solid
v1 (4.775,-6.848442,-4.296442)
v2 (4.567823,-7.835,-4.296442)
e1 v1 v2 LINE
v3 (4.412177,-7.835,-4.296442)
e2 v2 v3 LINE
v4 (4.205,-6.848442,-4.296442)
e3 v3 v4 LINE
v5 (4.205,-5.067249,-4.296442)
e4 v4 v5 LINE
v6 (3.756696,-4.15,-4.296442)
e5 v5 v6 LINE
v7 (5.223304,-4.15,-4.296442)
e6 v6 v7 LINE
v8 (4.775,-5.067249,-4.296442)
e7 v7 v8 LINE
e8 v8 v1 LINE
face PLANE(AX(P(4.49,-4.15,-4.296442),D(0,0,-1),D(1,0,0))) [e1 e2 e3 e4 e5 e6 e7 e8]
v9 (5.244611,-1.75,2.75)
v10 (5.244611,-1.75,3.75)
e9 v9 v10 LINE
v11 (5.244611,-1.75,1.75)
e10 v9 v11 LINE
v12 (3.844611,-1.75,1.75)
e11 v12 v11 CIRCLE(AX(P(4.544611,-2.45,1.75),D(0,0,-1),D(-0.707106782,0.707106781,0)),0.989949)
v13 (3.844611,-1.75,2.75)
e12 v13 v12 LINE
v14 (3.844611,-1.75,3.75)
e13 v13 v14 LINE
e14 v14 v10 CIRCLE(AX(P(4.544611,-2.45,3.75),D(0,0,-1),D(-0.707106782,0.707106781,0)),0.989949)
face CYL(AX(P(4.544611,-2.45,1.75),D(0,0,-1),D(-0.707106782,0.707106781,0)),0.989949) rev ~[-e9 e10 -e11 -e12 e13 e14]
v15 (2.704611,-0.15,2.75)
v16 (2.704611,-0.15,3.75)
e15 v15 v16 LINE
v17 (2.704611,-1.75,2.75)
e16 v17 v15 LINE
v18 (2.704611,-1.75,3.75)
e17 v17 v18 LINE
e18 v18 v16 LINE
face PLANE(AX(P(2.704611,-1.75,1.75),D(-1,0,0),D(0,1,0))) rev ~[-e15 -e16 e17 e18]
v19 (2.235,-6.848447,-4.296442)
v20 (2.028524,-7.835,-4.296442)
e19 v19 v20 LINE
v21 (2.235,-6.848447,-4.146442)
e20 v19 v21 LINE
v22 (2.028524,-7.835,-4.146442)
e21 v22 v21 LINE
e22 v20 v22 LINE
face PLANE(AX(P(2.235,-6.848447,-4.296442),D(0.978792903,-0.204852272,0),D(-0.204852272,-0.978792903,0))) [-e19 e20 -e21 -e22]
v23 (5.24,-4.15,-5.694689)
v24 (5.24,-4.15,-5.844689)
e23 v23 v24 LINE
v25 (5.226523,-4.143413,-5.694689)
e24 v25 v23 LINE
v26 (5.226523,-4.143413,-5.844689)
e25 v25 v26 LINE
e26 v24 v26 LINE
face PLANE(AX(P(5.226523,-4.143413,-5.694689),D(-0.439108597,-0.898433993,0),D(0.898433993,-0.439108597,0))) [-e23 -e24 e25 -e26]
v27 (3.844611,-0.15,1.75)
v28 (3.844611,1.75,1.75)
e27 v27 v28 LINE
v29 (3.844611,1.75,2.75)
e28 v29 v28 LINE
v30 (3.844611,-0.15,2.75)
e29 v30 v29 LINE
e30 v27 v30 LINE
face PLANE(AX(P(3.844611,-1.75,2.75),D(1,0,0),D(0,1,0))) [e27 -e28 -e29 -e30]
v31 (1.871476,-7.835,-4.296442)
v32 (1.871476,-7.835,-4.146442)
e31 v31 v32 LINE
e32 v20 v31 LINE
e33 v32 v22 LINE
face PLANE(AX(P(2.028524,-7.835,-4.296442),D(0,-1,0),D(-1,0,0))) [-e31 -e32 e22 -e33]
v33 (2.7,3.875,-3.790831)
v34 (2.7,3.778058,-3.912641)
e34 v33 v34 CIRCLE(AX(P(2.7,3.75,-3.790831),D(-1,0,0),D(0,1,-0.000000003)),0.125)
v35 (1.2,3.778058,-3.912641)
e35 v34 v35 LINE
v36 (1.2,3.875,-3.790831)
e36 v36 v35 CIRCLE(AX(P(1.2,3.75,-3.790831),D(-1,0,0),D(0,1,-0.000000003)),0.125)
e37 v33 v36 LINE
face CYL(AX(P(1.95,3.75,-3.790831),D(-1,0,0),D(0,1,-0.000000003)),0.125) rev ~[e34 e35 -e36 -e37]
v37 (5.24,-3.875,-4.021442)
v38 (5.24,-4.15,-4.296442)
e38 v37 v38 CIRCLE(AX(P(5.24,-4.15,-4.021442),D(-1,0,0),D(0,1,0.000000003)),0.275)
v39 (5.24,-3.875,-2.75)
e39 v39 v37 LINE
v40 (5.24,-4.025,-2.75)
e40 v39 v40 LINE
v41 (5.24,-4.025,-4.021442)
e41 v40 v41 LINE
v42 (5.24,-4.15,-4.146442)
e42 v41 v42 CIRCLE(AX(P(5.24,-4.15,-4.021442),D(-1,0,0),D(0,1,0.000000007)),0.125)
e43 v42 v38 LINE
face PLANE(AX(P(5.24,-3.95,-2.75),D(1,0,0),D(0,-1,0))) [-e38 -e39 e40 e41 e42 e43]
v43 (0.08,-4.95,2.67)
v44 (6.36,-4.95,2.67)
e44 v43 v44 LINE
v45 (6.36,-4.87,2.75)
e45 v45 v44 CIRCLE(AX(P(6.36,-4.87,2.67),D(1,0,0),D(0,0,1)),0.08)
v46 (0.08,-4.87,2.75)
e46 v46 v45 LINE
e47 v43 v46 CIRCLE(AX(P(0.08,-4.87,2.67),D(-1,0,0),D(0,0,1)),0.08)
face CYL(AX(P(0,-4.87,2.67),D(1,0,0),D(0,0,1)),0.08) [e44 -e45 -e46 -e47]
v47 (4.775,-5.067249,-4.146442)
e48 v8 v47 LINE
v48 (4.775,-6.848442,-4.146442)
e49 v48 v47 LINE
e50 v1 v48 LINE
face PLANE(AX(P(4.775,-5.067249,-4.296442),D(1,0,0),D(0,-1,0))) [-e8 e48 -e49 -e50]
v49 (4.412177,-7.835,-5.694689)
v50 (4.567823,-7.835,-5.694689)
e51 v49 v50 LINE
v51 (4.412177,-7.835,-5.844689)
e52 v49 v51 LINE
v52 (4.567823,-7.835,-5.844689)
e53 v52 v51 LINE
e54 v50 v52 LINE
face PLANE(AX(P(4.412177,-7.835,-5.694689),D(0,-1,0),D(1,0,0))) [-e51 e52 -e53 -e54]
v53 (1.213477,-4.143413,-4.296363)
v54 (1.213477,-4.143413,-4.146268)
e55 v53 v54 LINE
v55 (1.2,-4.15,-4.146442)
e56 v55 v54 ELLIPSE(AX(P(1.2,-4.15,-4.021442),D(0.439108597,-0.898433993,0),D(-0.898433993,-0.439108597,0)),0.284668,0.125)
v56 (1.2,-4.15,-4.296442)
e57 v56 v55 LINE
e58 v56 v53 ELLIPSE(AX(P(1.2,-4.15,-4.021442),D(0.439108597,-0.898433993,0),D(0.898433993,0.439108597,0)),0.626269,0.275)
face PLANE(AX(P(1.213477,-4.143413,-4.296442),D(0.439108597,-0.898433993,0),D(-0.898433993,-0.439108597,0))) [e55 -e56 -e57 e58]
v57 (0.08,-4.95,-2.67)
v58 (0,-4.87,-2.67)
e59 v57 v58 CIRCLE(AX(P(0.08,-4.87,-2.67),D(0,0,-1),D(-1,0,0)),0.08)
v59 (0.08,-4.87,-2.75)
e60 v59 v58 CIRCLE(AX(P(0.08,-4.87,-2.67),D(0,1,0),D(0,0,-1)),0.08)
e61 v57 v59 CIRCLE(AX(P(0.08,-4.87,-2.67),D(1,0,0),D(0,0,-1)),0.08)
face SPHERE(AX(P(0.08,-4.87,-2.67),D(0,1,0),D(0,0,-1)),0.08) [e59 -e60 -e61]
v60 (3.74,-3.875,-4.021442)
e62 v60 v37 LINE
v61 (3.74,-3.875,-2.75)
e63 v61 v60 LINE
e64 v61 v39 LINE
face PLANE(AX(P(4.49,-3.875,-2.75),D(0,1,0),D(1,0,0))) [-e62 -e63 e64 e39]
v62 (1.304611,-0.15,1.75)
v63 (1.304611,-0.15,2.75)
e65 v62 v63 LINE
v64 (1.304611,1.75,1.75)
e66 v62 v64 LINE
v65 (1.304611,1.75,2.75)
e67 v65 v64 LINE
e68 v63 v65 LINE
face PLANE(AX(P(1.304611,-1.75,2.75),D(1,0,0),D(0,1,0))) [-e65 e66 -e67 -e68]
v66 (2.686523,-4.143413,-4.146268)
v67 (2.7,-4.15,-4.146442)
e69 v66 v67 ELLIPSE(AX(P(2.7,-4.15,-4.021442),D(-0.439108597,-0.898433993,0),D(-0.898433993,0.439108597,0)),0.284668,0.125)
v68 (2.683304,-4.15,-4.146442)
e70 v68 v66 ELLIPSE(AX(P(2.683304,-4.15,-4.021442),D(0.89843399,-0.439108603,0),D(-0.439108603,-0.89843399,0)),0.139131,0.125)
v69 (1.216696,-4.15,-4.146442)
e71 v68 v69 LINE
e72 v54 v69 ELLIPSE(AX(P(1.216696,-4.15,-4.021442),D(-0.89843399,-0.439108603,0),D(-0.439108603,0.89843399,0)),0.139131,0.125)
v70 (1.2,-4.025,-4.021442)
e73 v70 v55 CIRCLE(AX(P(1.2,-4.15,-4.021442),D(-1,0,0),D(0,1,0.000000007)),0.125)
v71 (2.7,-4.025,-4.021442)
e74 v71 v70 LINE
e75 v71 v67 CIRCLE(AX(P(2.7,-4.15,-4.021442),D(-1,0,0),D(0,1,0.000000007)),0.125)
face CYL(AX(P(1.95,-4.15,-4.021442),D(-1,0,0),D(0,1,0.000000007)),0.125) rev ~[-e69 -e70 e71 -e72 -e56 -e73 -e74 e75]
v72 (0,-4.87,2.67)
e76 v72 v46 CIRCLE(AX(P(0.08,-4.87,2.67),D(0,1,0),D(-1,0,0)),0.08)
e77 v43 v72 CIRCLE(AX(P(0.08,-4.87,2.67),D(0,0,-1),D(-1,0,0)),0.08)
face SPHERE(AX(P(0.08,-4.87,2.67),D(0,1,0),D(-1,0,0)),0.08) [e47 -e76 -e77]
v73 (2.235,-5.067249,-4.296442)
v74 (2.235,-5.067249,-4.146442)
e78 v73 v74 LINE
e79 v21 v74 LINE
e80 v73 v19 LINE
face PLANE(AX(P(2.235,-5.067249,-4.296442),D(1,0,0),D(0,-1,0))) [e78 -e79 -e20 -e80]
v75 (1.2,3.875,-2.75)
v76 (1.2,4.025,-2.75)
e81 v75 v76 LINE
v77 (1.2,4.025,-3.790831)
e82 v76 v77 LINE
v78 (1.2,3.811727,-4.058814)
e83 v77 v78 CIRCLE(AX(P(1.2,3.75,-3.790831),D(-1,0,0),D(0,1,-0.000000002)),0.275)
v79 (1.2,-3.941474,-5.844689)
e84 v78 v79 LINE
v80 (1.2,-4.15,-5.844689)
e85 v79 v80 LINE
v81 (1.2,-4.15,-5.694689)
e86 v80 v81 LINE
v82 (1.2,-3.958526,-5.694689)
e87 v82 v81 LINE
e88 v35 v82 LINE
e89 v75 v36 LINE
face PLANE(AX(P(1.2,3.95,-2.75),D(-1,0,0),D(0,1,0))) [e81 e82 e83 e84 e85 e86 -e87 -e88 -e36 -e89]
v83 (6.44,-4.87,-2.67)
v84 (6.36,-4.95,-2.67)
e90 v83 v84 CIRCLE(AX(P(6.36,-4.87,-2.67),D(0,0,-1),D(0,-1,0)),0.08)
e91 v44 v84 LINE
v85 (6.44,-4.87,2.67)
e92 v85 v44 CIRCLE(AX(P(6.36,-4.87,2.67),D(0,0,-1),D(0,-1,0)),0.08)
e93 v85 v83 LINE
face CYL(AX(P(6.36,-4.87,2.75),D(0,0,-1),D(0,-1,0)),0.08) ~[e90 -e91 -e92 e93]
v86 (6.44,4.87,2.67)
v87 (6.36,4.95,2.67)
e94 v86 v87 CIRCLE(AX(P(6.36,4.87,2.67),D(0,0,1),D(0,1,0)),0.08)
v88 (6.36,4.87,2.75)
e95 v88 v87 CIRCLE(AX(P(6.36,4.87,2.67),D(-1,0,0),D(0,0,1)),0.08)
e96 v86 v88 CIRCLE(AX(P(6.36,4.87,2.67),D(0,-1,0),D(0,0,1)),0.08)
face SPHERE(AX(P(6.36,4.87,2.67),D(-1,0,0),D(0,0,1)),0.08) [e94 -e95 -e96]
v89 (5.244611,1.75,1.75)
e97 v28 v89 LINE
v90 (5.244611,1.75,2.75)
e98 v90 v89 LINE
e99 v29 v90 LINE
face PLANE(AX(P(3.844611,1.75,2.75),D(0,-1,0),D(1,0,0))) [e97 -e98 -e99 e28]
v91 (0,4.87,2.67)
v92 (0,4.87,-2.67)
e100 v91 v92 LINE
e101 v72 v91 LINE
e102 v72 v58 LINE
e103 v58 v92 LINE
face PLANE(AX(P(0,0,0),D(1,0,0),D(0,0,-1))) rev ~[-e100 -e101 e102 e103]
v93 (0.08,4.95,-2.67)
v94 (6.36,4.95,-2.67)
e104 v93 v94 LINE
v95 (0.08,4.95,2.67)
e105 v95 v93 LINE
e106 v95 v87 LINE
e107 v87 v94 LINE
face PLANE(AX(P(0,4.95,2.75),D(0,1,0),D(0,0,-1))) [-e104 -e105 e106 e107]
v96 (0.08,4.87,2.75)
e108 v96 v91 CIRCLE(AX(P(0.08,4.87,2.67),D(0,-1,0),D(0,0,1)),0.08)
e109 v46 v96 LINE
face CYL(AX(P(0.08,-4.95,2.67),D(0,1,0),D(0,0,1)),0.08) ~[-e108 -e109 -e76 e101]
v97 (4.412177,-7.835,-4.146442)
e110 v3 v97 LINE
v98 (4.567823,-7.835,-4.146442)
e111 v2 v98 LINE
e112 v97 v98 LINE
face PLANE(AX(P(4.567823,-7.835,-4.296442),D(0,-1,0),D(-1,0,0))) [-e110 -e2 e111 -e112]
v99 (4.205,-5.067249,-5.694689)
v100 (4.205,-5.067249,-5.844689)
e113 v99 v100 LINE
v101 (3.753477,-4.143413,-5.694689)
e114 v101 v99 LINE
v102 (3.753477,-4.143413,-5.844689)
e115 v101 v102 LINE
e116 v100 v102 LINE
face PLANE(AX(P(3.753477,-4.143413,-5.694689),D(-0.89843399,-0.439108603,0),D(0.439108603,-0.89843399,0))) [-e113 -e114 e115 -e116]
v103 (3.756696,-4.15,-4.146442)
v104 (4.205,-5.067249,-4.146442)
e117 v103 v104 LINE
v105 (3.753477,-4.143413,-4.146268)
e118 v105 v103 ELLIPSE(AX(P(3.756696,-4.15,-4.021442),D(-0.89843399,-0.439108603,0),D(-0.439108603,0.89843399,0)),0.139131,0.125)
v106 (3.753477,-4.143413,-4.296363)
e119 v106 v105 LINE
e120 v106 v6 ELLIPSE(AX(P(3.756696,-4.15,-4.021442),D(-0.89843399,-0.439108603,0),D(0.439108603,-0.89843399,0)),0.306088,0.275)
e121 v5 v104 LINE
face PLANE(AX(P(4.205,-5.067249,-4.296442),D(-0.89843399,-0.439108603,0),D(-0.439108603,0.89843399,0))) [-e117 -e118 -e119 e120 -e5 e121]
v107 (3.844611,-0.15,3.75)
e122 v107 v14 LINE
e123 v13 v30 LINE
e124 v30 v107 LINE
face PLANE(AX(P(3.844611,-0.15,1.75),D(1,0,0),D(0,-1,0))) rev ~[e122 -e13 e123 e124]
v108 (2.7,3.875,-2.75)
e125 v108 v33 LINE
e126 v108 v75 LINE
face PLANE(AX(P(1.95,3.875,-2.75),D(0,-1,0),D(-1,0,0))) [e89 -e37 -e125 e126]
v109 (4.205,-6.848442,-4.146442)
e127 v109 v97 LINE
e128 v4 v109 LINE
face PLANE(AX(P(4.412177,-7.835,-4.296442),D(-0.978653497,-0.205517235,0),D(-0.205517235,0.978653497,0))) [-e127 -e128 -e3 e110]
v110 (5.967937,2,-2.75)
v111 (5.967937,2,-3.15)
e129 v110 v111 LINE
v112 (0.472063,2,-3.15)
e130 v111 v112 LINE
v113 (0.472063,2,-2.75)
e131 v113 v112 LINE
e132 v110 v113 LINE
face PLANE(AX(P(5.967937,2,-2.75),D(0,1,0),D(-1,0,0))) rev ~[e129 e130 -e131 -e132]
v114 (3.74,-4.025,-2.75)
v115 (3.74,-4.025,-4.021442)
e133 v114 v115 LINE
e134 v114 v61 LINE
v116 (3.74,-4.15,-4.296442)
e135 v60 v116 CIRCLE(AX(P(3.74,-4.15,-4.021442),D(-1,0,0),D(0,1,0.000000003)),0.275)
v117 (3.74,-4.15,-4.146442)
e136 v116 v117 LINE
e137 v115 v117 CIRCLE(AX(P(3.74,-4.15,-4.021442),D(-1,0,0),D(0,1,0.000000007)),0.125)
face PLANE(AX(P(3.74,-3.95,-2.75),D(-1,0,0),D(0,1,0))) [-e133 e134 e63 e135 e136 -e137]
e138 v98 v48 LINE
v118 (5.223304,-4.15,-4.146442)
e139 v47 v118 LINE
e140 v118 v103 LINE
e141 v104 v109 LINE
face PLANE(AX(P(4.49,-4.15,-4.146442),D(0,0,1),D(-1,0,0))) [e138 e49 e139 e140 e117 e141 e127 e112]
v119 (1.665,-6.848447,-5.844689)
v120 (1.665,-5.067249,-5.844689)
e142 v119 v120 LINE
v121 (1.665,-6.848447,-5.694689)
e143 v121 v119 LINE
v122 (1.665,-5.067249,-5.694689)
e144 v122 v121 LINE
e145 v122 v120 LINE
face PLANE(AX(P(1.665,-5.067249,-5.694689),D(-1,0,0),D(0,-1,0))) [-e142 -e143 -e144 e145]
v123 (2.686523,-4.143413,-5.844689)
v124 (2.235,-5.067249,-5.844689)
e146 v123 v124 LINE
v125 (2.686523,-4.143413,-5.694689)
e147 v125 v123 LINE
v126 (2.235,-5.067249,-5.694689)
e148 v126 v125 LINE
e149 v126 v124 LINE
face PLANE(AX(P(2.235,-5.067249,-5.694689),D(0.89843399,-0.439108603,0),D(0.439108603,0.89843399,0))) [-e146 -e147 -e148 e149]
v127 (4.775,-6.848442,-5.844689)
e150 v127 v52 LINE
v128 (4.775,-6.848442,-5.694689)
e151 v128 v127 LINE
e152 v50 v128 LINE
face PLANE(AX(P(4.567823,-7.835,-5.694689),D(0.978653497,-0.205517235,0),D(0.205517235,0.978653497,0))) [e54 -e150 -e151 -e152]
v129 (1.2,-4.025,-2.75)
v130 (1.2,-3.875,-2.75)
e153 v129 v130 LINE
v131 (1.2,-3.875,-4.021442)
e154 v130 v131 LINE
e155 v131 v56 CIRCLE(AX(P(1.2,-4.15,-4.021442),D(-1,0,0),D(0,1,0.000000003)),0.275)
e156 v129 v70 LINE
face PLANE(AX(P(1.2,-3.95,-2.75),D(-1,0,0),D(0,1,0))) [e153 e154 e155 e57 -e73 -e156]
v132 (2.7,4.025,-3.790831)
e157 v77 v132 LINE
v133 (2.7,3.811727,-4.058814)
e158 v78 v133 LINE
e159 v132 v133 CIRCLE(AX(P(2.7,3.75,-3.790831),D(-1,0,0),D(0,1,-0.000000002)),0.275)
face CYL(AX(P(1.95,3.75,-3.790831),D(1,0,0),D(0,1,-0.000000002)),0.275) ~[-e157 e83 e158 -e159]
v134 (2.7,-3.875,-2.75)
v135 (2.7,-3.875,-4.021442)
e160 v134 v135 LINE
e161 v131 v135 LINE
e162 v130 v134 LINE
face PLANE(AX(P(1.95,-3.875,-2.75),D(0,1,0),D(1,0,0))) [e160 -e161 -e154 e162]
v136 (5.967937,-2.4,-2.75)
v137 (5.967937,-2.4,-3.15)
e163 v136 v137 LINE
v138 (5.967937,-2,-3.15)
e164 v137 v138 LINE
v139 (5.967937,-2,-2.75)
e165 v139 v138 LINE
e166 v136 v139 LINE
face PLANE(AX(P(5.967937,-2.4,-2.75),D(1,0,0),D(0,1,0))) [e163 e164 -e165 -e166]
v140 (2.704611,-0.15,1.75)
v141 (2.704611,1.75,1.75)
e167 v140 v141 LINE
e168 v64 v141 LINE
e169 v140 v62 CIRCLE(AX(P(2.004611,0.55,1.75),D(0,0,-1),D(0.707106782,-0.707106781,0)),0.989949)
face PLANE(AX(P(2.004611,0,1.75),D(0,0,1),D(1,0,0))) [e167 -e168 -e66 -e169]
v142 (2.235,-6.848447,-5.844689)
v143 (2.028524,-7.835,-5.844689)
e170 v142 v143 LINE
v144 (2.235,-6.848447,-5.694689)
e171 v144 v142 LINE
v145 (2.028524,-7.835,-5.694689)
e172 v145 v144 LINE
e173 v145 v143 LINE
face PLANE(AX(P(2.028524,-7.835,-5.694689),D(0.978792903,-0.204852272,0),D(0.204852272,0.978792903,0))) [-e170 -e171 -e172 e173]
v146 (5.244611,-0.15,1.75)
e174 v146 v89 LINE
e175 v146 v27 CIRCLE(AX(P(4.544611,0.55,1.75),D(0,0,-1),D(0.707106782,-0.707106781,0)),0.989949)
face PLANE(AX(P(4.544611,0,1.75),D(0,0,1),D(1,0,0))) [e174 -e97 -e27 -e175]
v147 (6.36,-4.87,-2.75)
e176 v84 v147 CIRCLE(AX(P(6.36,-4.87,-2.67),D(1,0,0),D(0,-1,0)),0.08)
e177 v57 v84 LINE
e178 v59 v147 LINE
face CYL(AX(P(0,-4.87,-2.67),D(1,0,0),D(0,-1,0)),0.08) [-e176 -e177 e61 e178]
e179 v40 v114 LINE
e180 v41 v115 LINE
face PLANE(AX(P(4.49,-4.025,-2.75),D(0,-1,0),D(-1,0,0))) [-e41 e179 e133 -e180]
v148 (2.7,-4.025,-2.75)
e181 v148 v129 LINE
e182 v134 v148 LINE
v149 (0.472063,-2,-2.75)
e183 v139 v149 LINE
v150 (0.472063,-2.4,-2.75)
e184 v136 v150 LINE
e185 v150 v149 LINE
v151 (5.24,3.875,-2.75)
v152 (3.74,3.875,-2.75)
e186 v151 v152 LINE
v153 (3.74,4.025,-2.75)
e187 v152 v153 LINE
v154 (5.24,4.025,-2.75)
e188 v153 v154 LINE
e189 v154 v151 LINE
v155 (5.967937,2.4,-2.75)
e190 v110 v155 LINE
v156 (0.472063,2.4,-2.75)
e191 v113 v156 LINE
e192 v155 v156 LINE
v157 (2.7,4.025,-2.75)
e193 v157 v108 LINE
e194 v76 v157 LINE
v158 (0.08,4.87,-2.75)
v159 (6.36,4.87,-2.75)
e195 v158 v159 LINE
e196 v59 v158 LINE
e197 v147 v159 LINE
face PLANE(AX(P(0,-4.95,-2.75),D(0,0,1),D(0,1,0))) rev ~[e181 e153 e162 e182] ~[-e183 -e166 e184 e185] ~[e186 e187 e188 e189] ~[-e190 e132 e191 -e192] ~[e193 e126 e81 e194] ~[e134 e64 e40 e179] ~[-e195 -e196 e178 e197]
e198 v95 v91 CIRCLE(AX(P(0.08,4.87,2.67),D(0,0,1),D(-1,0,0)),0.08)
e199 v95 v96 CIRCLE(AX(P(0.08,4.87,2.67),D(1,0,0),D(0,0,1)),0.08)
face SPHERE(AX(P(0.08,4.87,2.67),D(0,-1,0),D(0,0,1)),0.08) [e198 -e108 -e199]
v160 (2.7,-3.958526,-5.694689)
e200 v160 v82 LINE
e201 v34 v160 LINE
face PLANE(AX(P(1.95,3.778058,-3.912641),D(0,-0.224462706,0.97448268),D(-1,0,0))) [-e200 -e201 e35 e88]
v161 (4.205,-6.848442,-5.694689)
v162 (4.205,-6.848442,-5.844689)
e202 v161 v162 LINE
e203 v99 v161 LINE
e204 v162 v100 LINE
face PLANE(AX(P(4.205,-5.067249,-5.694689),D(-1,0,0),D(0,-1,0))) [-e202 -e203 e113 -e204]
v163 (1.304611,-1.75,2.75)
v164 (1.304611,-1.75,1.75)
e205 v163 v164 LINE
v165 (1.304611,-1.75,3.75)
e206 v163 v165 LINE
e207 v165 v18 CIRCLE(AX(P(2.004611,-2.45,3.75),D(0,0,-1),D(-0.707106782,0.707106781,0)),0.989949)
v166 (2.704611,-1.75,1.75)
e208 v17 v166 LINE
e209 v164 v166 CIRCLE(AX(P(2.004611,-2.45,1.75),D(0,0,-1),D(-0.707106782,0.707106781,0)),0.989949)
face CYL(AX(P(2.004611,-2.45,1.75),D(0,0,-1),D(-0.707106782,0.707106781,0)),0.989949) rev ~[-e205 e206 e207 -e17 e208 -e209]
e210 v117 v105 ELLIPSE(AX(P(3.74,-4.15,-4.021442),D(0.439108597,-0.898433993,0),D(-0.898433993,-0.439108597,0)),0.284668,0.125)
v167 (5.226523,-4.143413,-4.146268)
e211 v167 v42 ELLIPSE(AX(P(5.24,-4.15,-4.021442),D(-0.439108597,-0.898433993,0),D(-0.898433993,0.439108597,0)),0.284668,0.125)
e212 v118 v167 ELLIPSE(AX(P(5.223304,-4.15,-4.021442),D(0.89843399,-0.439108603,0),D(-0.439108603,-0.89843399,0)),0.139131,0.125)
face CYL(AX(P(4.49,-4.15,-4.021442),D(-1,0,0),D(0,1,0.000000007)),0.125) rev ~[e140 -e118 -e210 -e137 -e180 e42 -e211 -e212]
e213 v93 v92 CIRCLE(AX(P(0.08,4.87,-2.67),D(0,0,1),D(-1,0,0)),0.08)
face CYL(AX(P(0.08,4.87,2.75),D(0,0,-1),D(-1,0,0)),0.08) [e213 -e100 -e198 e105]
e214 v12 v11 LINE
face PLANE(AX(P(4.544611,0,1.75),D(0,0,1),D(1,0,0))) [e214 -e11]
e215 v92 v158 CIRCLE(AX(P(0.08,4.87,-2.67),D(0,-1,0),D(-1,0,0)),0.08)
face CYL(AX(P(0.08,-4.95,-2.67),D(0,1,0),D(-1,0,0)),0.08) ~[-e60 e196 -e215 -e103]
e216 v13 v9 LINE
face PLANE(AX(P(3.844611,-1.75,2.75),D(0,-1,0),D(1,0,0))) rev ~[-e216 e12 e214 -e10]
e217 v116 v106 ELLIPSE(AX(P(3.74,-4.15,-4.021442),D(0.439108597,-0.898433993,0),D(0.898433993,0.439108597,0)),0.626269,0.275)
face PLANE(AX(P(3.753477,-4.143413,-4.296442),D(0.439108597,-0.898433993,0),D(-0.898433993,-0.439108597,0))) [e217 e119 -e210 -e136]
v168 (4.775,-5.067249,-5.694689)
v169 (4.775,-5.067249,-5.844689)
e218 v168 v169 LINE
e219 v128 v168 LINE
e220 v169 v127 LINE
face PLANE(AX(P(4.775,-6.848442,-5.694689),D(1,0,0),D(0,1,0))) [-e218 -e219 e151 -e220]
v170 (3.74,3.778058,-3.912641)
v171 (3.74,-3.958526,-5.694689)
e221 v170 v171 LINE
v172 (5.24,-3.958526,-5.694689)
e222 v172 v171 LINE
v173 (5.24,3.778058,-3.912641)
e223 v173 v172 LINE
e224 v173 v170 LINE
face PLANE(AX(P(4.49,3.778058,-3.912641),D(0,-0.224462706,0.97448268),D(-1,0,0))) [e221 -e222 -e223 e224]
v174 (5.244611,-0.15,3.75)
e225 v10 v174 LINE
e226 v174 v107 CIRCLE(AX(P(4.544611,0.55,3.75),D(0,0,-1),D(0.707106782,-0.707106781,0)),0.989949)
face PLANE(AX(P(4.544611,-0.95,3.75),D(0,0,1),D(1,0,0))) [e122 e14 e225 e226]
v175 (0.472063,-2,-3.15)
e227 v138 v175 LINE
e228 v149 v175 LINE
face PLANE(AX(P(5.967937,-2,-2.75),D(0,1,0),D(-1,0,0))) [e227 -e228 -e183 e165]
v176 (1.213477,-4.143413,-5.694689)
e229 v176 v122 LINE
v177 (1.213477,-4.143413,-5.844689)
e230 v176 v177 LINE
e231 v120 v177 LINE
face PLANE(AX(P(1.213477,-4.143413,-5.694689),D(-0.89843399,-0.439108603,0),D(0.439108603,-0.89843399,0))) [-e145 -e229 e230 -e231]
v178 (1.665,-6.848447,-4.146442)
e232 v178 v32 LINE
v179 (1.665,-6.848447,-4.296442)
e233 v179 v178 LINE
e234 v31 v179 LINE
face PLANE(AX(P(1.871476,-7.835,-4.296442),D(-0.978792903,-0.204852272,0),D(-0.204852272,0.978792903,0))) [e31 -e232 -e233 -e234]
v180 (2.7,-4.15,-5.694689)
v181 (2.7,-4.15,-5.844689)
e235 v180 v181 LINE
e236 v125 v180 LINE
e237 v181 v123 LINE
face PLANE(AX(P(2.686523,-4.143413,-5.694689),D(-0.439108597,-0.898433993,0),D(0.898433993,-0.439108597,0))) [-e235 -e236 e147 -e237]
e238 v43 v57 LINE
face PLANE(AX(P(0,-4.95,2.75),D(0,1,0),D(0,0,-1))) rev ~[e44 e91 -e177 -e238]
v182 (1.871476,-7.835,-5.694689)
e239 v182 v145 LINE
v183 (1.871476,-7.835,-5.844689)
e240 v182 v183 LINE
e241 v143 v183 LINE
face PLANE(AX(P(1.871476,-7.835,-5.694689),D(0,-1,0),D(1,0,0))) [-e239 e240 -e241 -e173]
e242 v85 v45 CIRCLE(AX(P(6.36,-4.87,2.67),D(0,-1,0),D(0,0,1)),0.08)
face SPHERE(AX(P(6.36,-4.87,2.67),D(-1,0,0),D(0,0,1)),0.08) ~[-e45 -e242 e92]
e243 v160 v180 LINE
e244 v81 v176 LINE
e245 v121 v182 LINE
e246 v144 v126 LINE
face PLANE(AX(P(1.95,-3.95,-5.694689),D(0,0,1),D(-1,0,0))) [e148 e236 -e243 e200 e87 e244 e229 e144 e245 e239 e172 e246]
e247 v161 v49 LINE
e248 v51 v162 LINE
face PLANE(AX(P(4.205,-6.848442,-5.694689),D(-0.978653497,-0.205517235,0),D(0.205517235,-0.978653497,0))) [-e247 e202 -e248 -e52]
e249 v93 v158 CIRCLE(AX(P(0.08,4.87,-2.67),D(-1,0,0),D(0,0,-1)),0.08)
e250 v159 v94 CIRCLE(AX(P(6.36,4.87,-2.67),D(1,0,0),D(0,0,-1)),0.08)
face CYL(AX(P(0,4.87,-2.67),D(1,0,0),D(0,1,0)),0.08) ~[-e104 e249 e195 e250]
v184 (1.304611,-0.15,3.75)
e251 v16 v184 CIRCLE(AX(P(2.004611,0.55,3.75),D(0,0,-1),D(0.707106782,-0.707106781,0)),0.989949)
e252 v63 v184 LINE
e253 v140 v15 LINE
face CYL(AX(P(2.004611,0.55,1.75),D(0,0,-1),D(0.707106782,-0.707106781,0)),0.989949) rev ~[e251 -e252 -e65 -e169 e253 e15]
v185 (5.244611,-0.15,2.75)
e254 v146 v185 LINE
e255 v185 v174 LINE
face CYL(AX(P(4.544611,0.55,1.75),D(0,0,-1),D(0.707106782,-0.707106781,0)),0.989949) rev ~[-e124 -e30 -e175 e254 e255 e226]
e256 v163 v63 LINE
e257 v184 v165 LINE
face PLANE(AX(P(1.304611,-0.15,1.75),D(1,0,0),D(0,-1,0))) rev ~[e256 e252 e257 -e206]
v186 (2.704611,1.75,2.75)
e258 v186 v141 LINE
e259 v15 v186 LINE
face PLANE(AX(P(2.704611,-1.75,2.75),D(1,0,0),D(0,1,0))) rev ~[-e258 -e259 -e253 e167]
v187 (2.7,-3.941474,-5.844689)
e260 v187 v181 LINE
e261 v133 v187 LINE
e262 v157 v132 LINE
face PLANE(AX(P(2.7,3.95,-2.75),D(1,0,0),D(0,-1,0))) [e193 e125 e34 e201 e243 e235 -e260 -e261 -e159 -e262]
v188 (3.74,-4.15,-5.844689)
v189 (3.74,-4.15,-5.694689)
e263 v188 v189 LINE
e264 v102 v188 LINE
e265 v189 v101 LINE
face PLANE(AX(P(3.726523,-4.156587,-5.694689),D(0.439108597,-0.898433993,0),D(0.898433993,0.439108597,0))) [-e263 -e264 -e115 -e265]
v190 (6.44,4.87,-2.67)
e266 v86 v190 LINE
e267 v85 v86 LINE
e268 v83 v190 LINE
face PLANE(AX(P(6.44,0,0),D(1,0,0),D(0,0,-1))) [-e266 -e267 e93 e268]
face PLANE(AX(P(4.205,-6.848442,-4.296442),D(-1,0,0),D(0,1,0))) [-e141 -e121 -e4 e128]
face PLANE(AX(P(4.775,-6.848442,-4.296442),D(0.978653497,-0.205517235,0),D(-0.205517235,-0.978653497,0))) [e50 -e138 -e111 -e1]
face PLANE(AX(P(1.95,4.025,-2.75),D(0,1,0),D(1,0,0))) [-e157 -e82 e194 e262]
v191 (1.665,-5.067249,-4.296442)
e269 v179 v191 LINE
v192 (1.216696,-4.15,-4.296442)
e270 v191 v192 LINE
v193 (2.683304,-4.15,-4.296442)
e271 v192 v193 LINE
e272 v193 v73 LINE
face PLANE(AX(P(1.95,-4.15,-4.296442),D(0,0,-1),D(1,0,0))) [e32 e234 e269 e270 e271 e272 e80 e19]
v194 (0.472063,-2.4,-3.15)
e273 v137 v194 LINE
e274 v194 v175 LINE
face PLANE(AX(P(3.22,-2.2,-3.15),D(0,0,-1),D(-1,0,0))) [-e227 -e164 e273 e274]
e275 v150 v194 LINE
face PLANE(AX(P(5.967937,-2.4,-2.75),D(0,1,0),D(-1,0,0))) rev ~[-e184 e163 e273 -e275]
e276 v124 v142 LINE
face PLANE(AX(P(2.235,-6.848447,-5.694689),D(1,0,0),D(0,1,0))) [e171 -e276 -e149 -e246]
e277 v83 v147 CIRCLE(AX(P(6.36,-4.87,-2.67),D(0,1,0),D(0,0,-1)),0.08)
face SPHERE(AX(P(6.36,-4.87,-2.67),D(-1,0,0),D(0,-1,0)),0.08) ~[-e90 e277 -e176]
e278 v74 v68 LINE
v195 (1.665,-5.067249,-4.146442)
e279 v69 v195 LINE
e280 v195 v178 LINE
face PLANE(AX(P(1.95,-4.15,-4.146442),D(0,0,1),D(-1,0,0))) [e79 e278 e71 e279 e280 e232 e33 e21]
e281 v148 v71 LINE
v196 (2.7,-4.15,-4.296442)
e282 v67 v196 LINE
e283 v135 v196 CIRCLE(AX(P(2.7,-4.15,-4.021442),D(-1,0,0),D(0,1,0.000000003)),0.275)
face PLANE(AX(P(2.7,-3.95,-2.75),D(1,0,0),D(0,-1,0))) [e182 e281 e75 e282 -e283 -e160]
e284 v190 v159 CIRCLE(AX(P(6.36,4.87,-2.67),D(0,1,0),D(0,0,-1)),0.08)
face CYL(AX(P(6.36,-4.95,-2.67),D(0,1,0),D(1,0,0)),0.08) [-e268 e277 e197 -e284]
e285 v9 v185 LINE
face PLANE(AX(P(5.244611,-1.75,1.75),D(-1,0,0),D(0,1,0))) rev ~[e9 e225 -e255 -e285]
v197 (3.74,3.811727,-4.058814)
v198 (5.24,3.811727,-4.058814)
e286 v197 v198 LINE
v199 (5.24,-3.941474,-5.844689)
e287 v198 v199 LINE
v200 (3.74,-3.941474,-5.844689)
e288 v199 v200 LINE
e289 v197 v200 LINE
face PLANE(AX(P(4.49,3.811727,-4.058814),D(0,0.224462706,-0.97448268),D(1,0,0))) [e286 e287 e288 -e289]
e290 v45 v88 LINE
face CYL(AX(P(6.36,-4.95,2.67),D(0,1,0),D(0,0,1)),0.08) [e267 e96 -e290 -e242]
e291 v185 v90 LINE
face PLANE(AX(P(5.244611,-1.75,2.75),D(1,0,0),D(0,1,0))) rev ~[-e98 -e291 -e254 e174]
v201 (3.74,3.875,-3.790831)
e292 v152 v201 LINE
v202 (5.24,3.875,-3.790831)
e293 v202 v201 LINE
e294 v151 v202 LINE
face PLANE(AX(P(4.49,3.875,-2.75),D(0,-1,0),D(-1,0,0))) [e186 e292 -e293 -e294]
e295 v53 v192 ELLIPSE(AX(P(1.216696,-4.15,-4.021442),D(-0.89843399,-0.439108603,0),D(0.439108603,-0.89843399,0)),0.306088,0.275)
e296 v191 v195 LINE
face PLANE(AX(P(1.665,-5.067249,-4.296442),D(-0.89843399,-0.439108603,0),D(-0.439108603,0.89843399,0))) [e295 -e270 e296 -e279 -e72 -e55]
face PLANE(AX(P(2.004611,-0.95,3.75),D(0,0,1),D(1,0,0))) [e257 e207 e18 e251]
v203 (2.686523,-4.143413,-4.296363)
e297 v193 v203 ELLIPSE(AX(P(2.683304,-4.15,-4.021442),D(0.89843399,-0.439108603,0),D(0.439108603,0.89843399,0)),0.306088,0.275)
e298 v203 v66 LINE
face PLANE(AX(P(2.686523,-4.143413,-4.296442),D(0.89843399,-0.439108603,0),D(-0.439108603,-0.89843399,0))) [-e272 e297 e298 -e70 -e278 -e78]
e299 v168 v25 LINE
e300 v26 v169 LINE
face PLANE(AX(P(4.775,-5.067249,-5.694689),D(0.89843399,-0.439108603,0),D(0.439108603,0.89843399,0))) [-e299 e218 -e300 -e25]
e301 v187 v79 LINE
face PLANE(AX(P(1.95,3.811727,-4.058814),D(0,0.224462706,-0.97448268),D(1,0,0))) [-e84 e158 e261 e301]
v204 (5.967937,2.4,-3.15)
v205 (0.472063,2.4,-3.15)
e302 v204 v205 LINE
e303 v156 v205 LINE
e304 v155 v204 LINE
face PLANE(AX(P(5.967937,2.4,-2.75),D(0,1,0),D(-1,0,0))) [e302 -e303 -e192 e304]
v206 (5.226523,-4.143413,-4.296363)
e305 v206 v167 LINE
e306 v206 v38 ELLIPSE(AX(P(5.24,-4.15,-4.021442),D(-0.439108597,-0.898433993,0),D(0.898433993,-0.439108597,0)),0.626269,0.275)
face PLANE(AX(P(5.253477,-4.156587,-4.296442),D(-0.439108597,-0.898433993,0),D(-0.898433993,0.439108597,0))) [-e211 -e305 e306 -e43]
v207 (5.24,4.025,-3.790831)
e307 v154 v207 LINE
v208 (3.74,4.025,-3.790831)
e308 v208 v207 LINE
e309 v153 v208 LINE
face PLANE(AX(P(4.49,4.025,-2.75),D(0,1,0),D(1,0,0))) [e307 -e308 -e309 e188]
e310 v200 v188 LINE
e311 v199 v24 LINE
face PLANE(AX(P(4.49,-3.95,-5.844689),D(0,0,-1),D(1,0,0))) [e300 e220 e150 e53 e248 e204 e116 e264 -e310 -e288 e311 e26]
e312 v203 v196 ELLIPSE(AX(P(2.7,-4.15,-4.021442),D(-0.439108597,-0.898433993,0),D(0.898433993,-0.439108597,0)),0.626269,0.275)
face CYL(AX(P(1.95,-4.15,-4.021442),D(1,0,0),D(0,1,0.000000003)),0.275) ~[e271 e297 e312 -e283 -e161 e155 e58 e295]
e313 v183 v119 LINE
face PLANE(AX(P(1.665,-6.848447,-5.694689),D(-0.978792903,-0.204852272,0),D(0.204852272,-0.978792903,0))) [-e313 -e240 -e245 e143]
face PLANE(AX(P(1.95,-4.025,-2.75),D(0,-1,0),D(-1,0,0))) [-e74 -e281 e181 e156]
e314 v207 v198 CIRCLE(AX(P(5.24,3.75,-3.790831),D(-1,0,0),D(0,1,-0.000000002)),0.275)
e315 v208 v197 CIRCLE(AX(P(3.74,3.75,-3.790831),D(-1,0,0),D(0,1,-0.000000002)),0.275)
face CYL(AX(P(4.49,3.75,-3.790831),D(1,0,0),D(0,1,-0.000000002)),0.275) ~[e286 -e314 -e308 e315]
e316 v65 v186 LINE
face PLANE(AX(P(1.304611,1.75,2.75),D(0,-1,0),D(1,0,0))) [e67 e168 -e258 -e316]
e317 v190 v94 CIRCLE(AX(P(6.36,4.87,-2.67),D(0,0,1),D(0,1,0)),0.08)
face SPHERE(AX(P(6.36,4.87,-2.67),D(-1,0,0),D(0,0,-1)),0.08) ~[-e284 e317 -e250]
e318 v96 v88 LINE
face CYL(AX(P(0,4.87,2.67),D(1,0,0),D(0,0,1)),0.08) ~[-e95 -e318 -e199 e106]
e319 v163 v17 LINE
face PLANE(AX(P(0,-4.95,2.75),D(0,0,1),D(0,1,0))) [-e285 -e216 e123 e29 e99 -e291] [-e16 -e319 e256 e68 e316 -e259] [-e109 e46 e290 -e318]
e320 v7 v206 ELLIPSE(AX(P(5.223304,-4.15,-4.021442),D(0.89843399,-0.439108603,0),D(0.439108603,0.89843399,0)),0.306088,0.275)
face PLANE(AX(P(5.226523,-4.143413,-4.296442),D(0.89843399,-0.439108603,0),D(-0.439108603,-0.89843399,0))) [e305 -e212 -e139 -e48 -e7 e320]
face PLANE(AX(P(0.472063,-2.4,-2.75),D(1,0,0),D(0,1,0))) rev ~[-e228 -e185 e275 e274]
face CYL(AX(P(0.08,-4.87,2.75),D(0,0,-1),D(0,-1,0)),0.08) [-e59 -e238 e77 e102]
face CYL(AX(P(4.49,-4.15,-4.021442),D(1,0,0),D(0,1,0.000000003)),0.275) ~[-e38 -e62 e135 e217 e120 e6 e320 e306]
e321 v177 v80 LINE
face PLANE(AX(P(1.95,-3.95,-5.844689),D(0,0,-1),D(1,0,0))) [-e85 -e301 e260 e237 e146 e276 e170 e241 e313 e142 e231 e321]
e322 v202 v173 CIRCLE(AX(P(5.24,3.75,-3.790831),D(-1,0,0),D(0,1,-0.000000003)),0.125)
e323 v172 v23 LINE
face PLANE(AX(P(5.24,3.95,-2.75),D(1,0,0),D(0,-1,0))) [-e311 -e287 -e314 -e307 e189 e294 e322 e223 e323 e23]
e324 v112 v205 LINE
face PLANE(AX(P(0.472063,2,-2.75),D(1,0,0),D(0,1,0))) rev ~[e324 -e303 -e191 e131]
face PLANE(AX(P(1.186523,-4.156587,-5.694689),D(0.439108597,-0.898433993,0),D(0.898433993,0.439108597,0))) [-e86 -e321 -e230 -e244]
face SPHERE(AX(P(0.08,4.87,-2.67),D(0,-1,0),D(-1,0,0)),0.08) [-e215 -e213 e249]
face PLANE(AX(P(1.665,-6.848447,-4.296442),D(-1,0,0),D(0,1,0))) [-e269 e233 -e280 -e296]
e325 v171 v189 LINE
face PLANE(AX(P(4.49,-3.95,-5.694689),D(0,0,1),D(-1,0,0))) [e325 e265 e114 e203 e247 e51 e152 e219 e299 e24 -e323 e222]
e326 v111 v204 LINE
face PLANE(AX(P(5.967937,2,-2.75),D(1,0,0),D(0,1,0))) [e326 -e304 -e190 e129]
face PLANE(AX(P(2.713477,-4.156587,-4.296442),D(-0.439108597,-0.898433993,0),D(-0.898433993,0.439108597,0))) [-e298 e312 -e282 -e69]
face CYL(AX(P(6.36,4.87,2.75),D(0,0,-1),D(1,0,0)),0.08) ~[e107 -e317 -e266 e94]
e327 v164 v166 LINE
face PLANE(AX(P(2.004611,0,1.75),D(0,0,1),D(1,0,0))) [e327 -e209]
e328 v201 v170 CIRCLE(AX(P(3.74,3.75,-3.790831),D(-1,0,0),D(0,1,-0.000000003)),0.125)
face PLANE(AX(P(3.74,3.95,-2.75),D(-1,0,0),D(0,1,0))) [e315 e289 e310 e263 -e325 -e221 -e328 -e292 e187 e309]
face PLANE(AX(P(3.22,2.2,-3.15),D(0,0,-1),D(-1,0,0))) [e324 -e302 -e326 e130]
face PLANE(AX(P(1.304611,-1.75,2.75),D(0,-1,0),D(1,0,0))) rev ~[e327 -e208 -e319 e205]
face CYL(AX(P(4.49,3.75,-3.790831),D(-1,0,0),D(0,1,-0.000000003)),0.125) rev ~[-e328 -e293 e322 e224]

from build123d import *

# Parameters (mm, degrees)
SKETCH_1_W               = 5.5
SKETCH_1_H               = 9.9
EXTRUDE_1_DEPTH          = 6.44
SKETCH_2_W               = 1.5
SKETCH_2_H               = 0.15
PATTERN_LINEAR_1_COUNT   = 2
PATTERN_LINEAR_1_PITCH   = 2.54
SKETCH_3_W               = 1.5
SKETCH_3_H               = 0.15
PATTERN_LINEAR_2_COUNT   = 2
PATTERN_LINEAR_2_PITCH   = 2.54
CUT_EXTRUDE_1_DEPTH      = 0.15
CUT_EXTRUDE_1_DEPTH_BACK = 0.15
CUT_EXTRUDE_4_DEPTH      = 0.15
CUT_EXTRUDE_4_DEPTH_BACK = 0.15
CUT_EXTRUDE_5_DEPTH      = 0.15
CUT_EXTRUDE_5_DEPTH_BACK = 0.15
CUT_EXTRUDE_6_DEPTH      = 0.15
CUT_EXTRUDE_6_DEPTH_BACK = 0.15
SKETCH_6_W               = 1.4
SKETCH_6_H               = 3.5
CUT_EXTRUDE_1_2_DEPTH    = 1
PATTERN_LINEAR_3_COUNT   = 2
PATTERN_LINEAR_3_PITCH   = 2.54
EXTRUDE_2_DEPTH          = 2
SKETCH_8_W               = 5.49587381
SKETCH_8_H               = 0.4
EXTRUDE_3_DEPTH          = 0.4
FILLET_1_R               = 0.08


with BuildPart() as part:
    # Эскиз1 → Вытянуть1 (new body)
    with BuildSketch(Plane(origin=(0, 0, 0), x_dir=(0, 0, -1), z_dir=(1, 0, 0))):
        Rectangle(SKETCH_1_W, SKETCH_1_H)
    extrude(amount=EXTRUDE_1_DEPTH)

    # По траектории1: sweep along a curve in space
    with BuildLine() as sweep_1_path:
        Line((4.49, 3.95, -2.75), (4.49, 3.95, -3.790830974))
        ThreePointArc((4.49, 3.95, -3.790830974), (4.49, 3.906490428, -3.915373119), (4.49, 3.794892541, -3.98572751))
        Line((4.49, 3.794892541, -3.98572751), (4.49, -3.95, -5.769688961))
        Line((4.49, -3.95, -5.769688961), (4.49, -7.85, -5.769688961))
    # Эскиз2 → По траектории1 (sweep)
    with BuildSketch(Plane(origin=(0, 0, -2.75), x_dir=(-1, 0, 0), z_dir=(0, 0, -1))):
        with Locations((-4.49, 3.95)):
            Rectangle(SKETCH_2_W, SKETCH_2_H)
    sweep_1 = sweep(path=sweep_1_path.line, transition=Transition.RIGHT)

    # Линейный массив1: По траектории1 ×2
    with Locations(*[(-i * PATTERN_LINEAR_1_PITCH, 0, 0) for i in range(1, PATTERN_LINEAR_1_COUNT)]):
        add(sweep_1)

    # По траектории2: sweep along a curve in space
    with BuildLine() as sweep_2_path:
        Line((4.49, -3.95, -2.75), (4.49, -3.95, -4.02144183))
        ThreePointArc((4.49, -3.95, -4.02144183), (4.49, -4.008578644, -4.162863187), (4.49, -4.15, -4.22144183))
        Line((4.49, -4.15, -4.22144183), (4.49, -7.85, -4.22144183))
    # Эскиз3 → По траектории2 (sweep)
    with BuildSketch(Plane(origin=(0, 0, -2.75), x_dir=(-1, 0, 0), z_dir=(0, 0, -1))):
        with Locations((-4.49, -3.95)):
            Rectangle(SKETCH_3_W, SKETCH_3_H)
    sweep_2 = sweep(path=sweep_2_path.line)

    # Линейный массив2: По траектории2 ×2
    with Locations(*[(-i * PATTERN_LINEAR_2_PITCH, 0, 0) for i in range(1, PATTERN_LINEAR_2_COUNT)]):
        add(sweep_2)

    # Эскиз4 → Cut-Extrude 1 (cut, two sides: drawn at the far end of the back side and taken through both)
    with BuildSketch(Plane(origin=(0, 0, -5.844688961), x_dir=(-1, 0, 0), z_dir=(0, 0, -1)).offset(-CUT_EXTRUDE_1_DEPTH_BACK)):
        Polygon((-1.21347651, -4.143413371), (-1.665, -5.067248723), (-1.665, -6.848447142), (-1.871476359, -7.835), (-2.028523641, -7.835), (-2.235, -6.848447142), (-2.235, -5.067248723), (-2.68652349, -4.143413371), (-2.71347651, -4.156586629), (-2.265, -5.074187736), (-2.265, -6.851552858), (-2.052894917, -7.865), (-1.847105083, -7.865), (-1.635, -6.851552858), (-1.635, -5.074187736), (-1.18652349, -4.156586629), align=None)
    extrude(amount=CUT_EXTRUDE_1_DEPTH + CUT_EXTRUDE_1_DEPTH_BACK, mode=Mode.SUBTRACT)


with BuildPart() as cut_extrude_1_kept_piece:
    # of the separate pieces the step leaves, the one the design keeps (cut_extrude_1_pieces_kept)
    add(part.part.solids().sort_by_distance((0, 4.95, 2.75))[0])

    # Эскиз4<4> → Вырез-Вытянуть-Тонкостенный4 (cut, two sides: drawn at the far end of the back side and taken through both)
    with BuildSketch(Plane(origin=(0, 0, -5.844688961), x_dir=(-1, 0, 0), z_dir=(0, 0, -1)).offset(-CUT_EXTRUDE_4_DEPTH_BACK)):
        Polygon((-1.21347651, -4.143413371), (-1.665, -5.067248723), (-1.665, -6.848447142), (-1.871476359, -7.835), (-2.028523641, -7.835), (-2.235, -6.848447142), (-2.235, -5.067248723), (-2.68652349, -4.143413371), (-2.71347651, -4.156586629), (-2.265, -5.074187736), (-2.265, -6.851552858), (-2.052894917, -7.865), (-1.847105083, -7.865), (-1.635, -6.851552858), (-1.635, -5.074187736), (-1.18652349, -4.156586629), align=None)
        Polygon((-5.25347651, -4.156586629), (-4.805, -5.074187736), (-4.805, -6.851558008), (-4.592177182, -7.865), (-4.387822818, -7.865), (-4.175, -6.851558008), (-4.175, -5.074187736), (-3.72652349, -4.156586629), (-3.75347651, -4.143413371), (-4.205, -5.067248723), (-4.205, -6.848441992), (-4.412177182, -7.835), (-4.567822818, -7.835), (-4.775, -6.848441992), (-4.775, -5.067248723), (-5.22652349, -4.143413371), align=None)
    extrude(amount=CUT_EXTRUDE_4_DEPTH + CUT_EXTRUDE_4_DEPTH_BACK, mode=Mode.SUBTRACT)


with BuildPart() as cut_extrude_4_kept_piece:
    # of the separate pieces the step leaves, the one the design keeps (cut_extrude_4_pieces_kept)
    add(cut_extrude_1_kept_piece.part.solids().sort_by_distance((0, 4.95, 2.75))[0])

    # Эскиз5 → Вырез-Вытянуть-Тонкостенный5 (cut, two sides: drawn at the far end of the back side and taken through both)
    with BuildSketch(Plane.XY.offset(-4.14644183).offset(-CUT_EXTRUDE_5_DEPTH_BACK)):
        Polygon((1.18652349, -4.156586629), (1.635, -5.074187736), (1.635, -6.851552858), (1.847105083, -7.865), (2.052894917, -7.865), (2.265, -6.851552858), (2.265, -5.074187736), (2.71347651, -4.156586629), (2.68652349, -4.143413371), (2.235, -5.067248723), (2.235, -6.848447142), (2.028523641, -7.835), (1.871476359, -7.835), (1.665, -6.848447142), (1.665, -5.067248723), (1.21347651, -4.143413371), align=None)
    extrude(amount=CUT_EXTRUDE_5_DEPTH + CUT_EXTRUDE_5_DEPTH_BACK, mode=Mode.SUBTRACT)


with BuildPart() as cut_extrude_5_kept_piece:
    # of the separate pieces the step leaves, the one the design keeps (cut_extrude_5_pieces_kept)
    add(cut_extrude_4_kept_piece.part.solids().sort_by_distance((0, 4.95, 2.75))[0])

    # Эскиз5<4> → Вырез-Вытянуть-Тонкостенный6 (cut, two sides: drawn at the far end of the back side and taken through both)
    with BuildSketch(Plane.XY.offset(-4.14644183).offset(-CUT_EXTRUDE_6_DEPTH_BACK)):
        Polygon((1.18652349, -4.156586629), (1.635, -5.074187736), (1.635, -6.851552858), (1.847105083, -7.865), (2.052894917, -7.865), (2.265, -6.851552858), (2.265, -5.074187736), (2.71347651, -4.156586629), (2.68652349, -4.143413371), (2.235, -5.067248723), (2.235, -6.848447142), (2.028523641, -7.835), (1.871476359, -7.835), (1.665, -6.848447142), (1.665, -5.067248723), (1.21347651, -4.143413371), align=None)
        Polygon((5.22652349, -4.143413371), (4.775, -5.067248723), (4.775, -6.848441992), (4.567822818, -7.835), (4.412177182, -7.835), (4.205, -6.848441992), (4.205, -5.067248723), (3.75347651, -4.143413371), (3.72652349, -4.156586629), (4.175, -5.074187736), (4.175, -6.851558008), (4.387822818, -7.865), (4.592177182, -7.865), (4.805, -6.851558008), (4.805, -5.074187736), (5.25347651, -4.156586629), align=None)
    extrude(amount=CUT_EXTRUDE_6_DEPTH + CUT_EXTRUDE_6_DEPTH_BACK, mode=Mode.SUBTRACT)


with BuildPart() as cut_extrude_6_kept_piece:
    # of the separate pieces the step leaves, the one the design keeps (cut_extrude_6_pieces_kept)
    add(cut_extrude_5_kept_piece.part.solids().sort_by_distance((0, 4.95, 2.75))[0])

    # Эскиз6 → Cut-Extrude 1 2 (cut)
    with BuildSketch(Plane.XY.offset(2.75)):
        with Locations((2.004611319, 0)):
            Rectangle(SKETCH_6_W, SKETCH_6_H)
    cut_extrude_1_2 = extrude(amount=-CUT_EXTRUDE_1_2_DEPTH, mode=Mode.SUBTRACT)

    # Линейный массив3: Cut-Extrude 1 2 ×2
    with Locations(*[(i * PATTERN_LINEAR_3_PITCH, 0, 0) for i in range(1, PATTERN_LINEAR_3_COUNT)]):
        add(cut_extrude_1_2, mode=Mode.SUBTRACT)

    # Эскиз7 → Вытянуть2 (add)
    with BuildSketch(Plane.XY.offset(1.75)):
        with BuildLine():
            Line((1.304611319, -0.15), (1.304611319, -1.75))
            ThreePointArc((1.304611319, -1.75), (2.004611319, -1.460050506), (2.704611319, -1.75))
            Line((2.704611319, -1.75), (2.704611319, -0.15))
            ThreePointArc((2.704611319, -0.15), (2.004611319, -0.439949494), (1.304611319, -0.15))
        make_face()
        with BuildLine():
            Line((3.844611319, -0.15), (3.844611319, -1.75))
            ThreePointArc((3.844611319, -1.75), (4.544611319, -1.460050506), (5.244611319, -1.75))
            Line((5.244611319, -1.75), (5.244611319, -0.15))
            ThreePointArc((5.244611319, -0.15), (4.544611319, -0.439949494), (3.844611319, -0.15))
        make_face()
    extrude(amount=EXTRUDE_2_DEPTH)

    # Эскиз8 → Вытянуть3 (add)
    with BuildSketch(Plane(origin=(0, 0, -2.75), x_dir=(-1, 0, 0), z_dir=(0, 0, -1))):
        with Locations((-3.22, 2.2)):
            Rectangle(SKETCH_8_W, SKETCH_8_H)
        with Locations((-3.22, -2.2)):
            Rectangle(SKETCH_8_W, SKETCH_8_H)
    extrude(amount=EXTRUDE_3_DEPTH)

    # Скругление1
    fillet_1_edges = [cut_extrude_6_kept_piece.edges().sort_by_distance(p)[0] for p in [
        (0, 0, -2.75),
        (3.22, -4.95, -2.75),
        (0, 0, 2.75),
        (3.22, 4.95, 2.75),
        (0, -4.95, 0),
        (3.22, -4.95, 2.75),
        (0, 4.95, 0),
        (3.22, 4.95, -2.75),
        (6.44, 0, 2.75),
        (6.44, -4.95, 0),
        (6.44, 0, -2.75),
        (6.44, 4.95, 0),
    ]]
    fillet(fillet_1_edges, radius=FILLET_1_R)


solid = cut_extrude_6_kept_piece.part
